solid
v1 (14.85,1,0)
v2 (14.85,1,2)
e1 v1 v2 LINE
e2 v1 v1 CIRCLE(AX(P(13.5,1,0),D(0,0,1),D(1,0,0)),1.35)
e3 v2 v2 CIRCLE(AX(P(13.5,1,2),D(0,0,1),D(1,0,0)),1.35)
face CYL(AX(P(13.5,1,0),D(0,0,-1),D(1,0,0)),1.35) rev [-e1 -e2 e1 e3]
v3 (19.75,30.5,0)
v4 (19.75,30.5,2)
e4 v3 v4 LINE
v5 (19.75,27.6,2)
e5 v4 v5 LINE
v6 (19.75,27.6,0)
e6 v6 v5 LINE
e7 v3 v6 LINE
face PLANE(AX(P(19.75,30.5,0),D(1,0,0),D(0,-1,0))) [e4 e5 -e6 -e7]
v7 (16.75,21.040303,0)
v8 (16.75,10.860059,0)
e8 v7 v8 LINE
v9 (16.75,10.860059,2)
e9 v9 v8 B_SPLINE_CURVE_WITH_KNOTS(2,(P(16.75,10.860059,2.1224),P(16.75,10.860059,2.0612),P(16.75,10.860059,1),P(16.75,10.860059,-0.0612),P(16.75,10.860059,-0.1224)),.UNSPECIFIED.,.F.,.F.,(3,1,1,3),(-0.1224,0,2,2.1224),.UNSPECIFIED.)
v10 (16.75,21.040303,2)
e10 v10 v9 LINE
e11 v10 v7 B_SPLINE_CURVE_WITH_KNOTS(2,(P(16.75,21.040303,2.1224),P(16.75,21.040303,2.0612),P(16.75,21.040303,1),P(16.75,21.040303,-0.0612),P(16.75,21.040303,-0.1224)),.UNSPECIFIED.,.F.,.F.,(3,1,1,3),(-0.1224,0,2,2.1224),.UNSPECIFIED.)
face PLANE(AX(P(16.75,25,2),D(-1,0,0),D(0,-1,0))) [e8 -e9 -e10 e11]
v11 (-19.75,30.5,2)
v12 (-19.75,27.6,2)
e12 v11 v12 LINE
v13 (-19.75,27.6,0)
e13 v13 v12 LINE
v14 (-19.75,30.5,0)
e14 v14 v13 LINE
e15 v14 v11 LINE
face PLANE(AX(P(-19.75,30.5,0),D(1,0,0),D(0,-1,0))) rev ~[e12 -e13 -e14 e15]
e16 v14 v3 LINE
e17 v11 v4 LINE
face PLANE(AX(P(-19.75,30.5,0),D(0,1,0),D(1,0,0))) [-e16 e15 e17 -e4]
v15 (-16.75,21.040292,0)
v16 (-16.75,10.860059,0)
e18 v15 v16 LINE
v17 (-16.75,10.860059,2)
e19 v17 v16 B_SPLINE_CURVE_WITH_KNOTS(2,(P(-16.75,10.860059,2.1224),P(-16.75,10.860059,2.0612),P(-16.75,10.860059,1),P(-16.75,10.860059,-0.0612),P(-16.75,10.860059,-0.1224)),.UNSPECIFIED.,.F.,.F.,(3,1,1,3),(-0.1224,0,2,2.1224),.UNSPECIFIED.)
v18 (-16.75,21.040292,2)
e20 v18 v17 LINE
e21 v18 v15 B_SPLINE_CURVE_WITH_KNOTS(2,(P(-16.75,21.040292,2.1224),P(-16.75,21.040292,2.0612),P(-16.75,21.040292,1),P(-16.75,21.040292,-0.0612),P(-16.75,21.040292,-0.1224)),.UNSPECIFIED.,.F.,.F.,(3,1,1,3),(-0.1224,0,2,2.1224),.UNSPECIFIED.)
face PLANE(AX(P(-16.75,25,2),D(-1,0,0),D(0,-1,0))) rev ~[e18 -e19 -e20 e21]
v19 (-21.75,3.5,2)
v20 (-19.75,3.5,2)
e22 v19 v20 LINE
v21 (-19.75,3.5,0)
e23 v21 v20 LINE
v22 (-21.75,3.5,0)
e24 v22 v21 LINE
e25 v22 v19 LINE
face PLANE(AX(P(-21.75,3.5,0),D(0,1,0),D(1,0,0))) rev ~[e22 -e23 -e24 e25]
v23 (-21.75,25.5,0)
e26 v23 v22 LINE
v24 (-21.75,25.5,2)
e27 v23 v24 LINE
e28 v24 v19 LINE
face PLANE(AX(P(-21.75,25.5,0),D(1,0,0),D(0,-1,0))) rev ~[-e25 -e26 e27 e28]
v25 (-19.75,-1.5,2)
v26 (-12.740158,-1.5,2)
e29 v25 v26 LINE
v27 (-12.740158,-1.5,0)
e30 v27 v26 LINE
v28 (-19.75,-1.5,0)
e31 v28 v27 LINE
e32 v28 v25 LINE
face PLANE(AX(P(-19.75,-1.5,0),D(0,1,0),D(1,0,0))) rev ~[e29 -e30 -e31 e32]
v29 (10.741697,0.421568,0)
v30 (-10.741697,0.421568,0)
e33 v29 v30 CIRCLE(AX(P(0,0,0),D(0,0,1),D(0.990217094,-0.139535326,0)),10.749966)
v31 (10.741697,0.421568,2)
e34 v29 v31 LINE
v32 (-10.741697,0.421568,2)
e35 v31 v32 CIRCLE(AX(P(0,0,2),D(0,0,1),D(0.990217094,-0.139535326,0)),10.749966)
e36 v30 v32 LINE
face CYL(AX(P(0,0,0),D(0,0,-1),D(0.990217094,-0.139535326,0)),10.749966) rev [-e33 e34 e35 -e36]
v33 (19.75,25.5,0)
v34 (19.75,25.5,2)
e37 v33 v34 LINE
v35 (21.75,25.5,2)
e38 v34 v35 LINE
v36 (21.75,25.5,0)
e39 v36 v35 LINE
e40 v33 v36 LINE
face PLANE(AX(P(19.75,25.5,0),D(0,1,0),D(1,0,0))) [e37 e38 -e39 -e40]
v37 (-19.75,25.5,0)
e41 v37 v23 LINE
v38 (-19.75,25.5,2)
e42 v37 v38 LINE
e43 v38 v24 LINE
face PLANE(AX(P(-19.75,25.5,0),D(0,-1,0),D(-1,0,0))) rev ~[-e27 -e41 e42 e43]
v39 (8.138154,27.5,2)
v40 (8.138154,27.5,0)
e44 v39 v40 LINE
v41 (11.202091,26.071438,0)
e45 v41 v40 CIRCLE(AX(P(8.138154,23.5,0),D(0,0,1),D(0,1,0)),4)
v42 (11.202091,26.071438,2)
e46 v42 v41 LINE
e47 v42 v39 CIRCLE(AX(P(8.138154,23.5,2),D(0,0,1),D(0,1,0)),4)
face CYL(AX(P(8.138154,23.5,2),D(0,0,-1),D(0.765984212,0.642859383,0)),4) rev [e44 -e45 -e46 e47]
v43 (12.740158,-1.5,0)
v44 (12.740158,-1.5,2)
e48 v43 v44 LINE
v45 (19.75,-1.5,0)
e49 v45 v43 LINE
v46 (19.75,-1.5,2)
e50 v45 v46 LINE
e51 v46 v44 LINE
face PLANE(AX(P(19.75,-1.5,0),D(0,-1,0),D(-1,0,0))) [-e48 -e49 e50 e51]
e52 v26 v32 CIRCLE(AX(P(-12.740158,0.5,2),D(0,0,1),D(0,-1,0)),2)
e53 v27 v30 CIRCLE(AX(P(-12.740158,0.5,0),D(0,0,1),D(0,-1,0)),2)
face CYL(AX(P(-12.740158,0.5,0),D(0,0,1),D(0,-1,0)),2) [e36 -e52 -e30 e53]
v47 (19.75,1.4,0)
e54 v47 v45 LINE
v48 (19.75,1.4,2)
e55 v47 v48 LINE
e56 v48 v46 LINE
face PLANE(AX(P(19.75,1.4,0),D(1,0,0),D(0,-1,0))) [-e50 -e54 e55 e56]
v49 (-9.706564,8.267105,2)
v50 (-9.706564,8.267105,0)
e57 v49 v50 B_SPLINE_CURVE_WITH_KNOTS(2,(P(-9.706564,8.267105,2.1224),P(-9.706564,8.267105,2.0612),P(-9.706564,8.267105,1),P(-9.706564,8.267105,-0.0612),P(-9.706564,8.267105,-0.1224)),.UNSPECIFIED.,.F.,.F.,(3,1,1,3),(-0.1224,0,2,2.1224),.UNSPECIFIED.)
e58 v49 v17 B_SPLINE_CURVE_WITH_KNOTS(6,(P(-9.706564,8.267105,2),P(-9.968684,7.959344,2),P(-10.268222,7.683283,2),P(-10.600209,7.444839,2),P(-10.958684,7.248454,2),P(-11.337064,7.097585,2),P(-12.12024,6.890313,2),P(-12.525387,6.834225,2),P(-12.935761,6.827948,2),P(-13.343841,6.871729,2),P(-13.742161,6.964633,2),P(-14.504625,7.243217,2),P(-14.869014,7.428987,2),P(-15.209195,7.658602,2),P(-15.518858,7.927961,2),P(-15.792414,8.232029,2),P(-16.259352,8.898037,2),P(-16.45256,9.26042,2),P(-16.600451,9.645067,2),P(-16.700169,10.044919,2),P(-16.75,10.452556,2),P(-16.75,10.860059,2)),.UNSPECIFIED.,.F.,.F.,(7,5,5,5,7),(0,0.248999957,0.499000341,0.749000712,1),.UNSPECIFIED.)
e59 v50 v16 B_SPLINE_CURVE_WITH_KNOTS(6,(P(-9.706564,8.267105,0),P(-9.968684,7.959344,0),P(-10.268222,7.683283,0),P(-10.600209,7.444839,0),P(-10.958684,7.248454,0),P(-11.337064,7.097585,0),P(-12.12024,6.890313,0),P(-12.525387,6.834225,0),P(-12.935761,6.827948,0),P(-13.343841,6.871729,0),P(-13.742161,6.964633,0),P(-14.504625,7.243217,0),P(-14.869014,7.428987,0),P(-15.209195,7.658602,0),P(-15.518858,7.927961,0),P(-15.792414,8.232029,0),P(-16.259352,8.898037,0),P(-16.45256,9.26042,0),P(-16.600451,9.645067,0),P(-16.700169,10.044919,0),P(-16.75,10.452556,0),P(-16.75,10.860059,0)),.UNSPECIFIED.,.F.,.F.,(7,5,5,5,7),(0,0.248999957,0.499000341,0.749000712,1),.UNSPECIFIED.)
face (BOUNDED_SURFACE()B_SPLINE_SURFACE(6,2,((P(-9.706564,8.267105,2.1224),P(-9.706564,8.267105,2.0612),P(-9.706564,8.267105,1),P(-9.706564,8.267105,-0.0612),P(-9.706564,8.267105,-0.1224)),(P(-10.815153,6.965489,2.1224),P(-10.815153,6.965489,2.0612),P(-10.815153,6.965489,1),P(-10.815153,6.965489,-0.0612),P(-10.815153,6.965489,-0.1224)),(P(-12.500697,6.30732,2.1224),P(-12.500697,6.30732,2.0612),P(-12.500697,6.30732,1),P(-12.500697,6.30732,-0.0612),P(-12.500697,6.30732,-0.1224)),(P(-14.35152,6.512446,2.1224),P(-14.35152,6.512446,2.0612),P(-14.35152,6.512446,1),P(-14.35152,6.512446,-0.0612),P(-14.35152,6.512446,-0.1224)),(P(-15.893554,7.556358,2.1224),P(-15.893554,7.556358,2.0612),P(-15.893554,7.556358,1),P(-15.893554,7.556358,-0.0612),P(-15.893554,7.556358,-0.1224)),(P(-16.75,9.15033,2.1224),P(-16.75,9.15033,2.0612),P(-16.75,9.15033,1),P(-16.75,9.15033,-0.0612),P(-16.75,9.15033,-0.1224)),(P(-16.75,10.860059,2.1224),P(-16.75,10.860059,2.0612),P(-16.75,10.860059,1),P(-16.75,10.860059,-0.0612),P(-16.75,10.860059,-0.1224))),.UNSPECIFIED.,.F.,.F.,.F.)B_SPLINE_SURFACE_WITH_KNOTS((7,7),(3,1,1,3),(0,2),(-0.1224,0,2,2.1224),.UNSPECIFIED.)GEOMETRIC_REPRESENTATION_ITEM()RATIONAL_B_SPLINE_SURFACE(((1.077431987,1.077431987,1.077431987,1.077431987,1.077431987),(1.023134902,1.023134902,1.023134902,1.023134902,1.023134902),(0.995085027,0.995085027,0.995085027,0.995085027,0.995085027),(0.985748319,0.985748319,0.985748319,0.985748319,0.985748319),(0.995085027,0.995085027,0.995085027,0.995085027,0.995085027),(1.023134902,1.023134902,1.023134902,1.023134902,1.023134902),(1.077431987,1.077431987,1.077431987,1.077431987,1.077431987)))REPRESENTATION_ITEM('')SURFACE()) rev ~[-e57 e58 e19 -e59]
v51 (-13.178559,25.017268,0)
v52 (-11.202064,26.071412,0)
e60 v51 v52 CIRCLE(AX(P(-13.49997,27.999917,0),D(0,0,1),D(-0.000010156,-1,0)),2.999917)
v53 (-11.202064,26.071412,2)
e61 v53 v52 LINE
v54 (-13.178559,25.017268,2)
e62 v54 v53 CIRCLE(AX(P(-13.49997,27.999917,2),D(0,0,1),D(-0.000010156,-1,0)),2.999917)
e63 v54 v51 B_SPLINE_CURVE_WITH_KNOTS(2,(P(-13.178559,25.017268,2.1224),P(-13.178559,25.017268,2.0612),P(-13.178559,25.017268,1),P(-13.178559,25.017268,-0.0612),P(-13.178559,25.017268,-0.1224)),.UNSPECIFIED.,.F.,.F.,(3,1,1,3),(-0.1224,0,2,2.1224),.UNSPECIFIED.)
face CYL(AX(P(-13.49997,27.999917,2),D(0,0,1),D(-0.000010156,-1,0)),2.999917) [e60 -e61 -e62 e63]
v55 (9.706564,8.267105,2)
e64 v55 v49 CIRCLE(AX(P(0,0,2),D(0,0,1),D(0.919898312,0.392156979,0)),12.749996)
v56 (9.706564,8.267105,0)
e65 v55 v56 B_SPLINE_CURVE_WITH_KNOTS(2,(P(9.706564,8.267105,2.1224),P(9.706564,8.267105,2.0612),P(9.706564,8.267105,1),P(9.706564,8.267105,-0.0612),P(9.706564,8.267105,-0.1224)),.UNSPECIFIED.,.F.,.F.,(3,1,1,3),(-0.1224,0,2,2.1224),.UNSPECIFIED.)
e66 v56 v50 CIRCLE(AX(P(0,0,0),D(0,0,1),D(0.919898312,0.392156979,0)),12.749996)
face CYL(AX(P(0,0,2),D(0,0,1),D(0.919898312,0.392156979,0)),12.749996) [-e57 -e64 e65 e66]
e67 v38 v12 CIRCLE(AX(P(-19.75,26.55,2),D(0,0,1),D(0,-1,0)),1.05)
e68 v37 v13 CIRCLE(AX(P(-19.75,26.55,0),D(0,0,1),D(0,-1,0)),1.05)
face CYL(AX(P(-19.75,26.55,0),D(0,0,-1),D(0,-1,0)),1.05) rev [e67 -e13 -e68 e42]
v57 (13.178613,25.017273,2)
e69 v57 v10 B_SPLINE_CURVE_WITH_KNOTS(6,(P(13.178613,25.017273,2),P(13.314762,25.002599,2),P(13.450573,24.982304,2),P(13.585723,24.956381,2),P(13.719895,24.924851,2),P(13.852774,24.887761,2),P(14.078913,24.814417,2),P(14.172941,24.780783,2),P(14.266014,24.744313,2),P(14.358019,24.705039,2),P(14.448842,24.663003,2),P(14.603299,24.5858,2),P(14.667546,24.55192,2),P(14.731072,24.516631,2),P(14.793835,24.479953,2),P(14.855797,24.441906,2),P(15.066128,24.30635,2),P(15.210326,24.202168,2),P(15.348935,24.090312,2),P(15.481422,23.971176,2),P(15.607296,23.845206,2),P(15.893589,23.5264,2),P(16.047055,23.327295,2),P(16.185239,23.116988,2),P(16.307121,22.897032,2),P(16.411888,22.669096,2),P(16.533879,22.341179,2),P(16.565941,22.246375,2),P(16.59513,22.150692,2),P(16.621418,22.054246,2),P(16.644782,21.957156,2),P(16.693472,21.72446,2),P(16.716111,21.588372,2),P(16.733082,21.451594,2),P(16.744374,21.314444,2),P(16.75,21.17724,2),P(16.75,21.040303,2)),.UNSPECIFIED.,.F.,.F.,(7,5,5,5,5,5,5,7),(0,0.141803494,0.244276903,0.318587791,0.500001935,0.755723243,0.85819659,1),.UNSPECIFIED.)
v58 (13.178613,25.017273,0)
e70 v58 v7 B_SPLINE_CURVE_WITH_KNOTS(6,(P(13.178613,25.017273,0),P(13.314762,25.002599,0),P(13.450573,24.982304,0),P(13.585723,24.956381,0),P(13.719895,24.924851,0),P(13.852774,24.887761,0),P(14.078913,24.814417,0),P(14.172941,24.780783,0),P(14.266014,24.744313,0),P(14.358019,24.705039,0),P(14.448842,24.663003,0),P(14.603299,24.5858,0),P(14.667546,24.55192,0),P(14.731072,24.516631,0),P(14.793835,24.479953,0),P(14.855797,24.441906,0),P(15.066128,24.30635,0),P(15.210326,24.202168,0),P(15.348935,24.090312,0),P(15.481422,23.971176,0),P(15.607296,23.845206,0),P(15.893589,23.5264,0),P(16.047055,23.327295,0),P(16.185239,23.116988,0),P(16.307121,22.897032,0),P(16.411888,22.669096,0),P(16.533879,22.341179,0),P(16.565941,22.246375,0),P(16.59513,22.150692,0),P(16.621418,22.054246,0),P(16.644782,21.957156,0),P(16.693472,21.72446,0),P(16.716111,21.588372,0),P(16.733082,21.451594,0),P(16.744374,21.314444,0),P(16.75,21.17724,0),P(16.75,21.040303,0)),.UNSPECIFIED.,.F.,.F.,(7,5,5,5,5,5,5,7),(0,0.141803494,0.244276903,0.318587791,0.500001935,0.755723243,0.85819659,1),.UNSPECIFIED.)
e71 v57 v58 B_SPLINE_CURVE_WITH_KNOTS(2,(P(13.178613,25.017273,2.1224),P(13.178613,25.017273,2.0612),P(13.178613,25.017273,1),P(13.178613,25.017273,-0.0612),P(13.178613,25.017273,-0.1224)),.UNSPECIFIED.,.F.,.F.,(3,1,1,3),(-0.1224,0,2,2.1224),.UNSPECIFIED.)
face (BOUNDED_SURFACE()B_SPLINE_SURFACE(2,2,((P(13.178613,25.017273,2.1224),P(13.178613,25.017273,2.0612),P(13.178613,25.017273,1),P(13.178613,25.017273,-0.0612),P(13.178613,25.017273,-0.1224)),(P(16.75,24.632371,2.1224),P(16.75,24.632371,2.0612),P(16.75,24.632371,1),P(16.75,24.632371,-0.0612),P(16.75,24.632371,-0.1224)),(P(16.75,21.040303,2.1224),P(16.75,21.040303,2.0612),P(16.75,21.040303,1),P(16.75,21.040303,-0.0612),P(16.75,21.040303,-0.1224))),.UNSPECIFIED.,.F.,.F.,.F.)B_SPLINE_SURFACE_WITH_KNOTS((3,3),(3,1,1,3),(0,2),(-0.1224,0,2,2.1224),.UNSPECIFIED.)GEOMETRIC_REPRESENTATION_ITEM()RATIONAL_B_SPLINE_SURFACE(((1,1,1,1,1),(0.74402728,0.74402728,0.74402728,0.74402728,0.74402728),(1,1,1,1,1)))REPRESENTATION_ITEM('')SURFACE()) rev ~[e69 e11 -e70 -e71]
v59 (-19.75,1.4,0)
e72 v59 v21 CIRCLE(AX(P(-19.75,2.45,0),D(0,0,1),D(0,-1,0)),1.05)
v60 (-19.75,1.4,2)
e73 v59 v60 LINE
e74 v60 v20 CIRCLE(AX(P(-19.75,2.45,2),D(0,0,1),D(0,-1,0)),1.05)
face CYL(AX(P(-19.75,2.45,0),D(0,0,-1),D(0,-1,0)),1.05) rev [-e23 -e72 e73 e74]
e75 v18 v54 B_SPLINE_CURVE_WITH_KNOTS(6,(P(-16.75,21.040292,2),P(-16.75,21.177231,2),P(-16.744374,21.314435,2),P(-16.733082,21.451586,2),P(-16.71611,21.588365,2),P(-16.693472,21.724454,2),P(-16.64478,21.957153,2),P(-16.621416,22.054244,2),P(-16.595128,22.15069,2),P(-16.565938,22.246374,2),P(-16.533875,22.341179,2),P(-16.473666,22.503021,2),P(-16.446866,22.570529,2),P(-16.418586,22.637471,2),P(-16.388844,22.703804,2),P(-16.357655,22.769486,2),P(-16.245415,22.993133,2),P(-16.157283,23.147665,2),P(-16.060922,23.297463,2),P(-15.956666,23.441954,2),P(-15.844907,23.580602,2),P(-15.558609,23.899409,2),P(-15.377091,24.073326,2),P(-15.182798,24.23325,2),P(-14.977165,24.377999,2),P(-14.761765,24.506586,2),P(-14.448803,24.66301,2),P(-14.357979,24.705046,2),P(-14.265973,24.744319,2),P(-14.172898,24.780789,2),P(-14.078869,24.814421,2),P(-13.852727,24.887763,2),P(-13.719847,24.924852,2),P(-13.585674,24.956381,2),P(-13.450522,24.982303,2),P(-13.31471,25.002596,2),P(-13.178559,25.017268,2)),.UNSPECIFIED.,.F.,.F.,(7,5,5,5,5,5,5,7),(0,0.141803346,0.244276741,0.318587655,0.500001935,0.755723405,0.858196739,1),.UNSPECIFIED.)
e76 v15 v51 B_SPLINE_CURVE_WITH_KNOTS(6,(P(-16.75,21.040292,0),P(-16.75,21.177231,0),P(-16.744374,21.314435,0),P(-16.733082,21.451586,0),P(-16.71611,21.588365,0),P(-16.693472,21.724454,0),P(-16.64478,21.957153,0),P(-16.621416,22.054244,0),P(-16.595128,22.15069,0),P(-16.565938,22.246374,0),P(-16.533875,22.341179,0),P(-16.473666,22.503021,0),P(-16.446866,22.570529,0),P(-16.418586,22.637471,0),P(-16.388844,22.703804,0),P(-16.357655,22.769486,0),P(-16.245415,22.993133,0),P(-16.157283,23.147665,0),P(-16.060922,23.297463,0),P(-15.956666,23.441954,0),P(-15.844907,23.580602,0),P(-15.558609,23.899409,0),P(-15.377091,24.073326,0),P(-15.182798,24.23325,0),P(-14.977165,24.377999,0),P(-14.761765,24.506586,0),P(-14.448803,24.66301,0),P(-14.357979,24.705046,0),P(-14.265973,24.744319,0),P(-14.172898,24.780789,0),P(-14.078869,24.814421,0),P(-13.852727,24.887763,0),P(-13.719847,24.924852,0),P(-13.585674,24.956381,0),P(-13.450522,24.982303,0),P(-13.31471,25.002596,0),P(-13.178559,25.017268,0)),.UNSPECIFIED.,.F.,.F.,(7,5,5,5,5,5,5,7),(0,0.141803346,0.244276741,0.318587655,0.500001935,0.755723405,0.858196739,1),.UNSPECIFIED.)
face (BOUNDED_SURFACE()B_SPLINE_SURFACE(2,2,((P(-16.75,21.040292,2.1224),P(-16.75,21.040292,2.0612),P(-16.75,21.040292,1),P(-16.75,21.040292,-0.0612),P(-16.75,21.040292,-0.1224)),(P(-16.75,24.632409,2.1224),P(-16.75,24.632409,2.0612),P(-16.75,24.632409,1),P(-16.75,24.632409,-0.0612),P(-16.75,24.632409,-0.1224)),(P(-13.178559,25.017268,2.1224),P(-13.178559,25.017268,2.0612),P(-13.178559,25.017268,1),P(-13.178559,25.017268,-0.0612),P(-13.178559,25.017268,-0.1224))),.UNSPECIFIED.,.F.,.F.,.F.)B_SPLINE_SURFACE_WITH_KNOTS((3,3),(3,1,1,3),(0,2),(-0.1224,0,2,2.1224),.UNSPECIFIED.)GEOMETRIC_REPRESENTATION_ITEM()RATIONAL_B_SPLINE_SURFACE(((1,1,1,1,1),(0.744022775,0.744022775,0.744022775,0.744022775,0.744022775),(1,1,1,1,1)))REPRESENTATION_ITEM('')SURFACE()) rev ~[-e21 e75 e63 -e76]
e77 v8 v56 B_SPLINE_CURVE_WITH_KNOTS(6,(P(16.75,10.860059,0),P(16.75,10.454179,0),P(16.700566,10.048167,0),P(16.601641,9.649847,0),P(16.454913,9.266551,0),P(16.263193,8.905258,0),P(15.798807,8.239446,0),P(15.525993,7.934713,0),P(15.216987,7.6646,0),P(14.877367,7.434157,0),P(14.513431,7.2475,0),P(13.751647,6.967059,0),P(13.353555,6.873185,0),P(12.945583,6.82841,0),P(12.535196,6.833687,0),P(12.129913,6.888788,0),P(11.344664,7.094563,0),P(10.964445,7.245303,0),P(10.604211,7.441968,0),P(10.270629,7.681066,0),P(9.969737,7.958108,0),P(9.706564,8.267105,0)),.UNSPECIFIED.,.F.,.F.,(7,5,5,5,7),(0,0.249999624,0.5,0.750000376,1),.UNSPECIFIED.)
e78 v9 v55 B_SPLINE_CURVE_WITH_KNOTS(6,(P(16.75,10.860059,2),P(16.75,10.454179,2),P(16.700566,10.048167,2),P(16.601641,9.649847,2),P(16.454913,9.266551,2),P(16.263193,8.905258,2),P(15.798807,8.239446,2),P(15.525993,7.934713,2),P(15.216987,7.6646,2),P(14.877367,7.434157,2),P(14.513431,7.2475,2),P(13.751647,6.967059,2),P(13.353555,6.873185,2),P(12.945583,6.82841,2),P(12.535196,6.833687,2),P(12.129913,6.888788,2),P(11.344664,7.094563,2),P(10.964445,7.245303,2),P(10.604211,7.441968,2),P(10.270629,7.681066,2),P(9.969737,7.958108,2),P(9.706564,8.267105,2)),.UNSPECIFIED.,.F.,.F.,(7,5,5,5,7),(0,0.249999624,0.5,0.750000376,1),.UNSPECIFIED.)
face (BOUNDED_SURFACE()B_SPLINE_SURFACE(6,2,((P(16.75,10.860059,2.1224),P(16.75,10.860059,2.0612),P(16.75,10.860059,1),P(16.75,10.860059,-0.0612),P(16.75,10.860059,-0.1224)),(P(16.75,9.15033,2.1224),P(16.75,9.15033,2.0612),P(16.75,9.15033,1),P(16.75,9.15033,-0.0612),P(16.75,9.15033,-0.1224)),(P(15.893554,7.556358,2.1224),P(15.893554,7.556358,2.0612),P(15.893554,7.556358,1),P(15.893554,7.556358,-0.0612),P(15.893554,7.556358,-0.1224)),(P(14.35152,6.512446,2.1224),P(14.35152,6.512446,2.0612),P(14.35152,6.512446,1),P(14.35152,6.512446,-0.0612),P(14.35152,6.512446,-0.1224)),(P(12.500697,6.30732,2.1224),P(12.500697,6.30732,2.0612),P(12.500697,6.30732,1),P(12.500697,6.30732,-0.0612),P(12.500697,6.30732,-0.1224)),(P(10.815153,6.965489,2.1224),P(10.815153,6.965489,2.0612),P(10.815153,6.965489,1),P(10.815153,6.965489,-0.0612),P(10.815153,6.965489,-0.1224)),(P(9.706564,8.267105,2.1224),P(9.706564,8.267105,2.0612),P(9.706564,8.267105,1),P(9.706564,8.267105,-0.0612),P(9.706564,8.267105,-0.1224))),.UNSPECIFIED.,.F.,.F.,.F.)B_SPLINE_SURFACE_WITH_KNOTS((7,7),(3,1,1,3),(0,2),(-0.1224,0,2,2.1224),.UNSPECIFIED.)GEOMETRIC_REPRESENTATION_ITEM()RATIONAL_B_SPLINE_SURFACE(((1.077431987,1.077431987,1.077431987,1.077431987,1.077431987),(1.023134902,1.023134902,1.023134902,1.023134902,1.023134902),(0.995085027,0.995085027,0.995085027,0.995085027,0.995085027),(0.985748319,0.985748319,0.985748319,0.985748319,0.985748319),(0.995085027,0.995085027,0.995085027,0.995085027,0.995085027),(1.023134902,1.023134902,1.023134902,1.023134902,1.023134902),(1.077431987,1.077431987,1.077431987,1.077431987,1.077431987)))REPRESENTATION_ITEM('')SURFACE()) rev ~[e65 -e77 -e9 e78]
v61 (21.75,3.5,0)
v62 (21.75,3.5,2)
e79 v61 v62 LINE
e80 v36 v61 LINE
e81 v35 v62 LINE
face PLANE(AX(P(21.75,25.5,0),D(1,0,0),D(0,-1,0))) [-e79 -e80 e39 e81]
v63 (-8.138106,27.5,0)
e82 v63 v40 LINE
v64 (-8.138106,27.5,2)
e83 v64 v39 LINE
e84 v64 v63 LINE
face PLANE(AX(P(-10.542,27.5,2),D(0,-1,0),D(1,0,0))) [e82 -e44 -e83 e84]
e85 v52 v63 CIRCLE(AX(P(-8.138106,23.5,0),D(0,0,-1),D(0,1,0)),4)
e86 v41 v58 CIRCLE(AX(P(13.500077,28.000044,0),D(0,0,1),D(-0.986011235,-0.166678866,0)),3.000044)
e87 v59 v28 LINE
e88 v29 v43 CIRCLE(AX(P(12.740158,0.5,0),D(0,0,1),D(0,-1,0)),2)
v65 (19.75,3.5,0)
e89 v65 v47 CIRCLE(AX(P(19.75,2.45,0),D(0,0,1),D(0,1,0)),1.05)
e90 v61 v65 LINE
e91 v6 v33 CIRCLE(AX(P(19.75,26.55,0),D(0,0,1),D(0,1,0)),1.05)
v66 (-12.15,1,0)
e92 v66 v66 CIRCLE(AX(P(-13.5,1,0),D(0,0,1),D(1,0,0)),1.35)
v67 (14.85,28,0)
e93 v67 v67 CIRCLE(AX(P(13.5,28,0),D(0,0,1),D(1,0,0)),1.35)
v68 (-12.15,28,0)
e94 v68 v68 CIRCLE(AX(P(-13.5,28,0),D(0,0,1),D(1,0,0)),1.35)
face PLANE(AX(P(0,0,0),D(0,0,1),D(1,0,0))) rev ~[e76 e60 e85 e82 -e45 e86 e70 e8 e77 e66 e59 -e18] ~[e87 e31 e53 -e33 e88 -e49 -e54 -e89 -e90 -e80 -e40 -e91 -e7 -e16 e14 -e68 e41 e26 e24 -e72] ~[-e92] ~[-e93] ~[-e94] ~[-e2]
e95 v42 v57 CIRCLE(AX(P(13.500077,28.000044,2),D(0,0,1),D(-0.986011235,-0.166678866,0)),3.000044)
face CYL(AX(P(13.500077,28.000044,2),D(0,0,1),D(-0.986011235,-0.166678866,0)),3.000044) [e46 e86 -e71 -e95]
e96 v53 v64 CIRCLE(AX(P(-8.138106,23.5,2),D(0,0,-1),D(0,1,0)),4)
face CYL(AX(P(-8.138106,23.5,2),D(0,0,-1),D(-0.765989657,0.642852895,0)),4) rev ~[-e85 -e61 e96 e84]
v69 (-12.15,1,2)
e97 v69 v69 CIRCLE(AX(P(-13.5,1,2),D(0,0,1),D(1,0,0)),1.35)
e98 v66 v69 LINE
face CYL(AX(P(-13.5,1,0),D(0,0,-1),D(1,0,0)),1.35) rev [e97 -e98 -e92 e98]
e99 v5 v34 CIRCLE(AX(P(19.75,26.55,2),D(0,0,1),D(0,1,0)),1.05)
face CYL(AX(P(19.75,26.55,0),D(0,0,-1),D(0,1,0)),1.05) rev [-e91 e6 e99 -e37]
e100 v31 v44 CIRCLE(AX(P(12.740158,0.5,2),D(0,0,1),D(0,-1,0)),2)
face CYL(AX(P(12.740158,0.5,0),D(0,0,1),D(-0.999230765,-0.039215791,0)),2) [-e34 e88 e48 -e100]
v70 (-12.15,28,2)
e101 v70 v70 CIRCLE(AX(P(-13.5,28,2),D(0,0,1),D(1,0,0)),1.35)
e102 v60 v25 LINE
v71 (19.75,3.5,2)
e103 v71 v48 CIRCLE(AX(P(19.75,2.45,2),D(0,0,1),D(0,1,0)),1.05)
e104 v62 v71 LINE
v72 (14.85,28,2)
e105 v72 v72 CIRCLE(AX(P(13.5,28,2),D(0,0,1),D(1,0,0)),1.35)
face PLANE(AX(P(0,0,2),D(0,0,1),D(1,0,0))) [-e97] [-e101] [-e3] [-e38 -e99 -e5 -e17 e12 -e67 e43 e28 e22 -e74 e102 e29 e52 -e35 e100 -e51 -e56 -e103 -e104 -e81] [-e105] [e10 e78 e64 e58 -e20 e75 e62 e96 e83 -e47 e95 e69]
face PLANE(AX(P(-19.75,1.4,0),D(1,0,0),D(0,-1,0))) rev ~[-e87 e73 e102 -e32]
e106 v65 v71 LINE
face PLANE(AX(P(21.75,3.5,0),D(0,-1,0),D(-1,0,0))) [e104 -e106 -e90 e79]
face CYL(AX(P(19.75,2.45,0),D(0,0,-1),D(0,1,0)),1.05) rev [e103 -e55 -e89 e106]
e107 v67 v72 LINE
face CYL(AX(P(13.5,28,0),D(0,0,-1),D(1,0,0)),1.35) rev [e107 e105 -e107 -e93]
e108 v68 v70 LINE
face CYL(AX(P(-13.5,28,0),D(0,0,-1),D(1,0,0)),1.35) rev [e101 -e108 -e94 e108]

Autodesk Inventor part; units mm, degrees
ref_plane "YZ Plane" through (0, 0, 0) normal (1, 0, 0) x (0, 1, 0)
ref_plane "XZ Plane" through (0, 0, 0) normal (0, 1, 0) x (-1, 0, 0)
ref_plane "XY Plane" through (0, 0, 0) normal (0, 0, 1) x (1, 0, 0)
sketch "スケッチ1" plane through (0, 0, 0) normal (0, 0, 1) x (1, 0, 0)
  circle A0 centre (0, 0) radius 10.5 construction
  circle A1 centre (-13.5, 1) radius 1.35
  line L0 (-13.5, 28) -> (13.5, 28) construction
  line L1 (13.5, 28) -> (13.5, 1) construction
  line L2 (13.5, 1) -> (-13.5, 1) construction
  line L3 (-13.5, 1) -> (-13.5, 28) construction
  circle A2 centre (-13.5, 28) radius 1.35
  circle A3 centre (13.5, 1) radius 1.35
  circle A4 centre (13.5, 28) radius 1.35
  line L4 (-19.75, 30.5) -> (-19.75, 27.6)
  line L5 (-19.75, 30.5) -> (19.75, 30.5)
  line L6 (19.75, 30.5) -> (19.75, 27.6)
  line L7 (-19.75, 1.4) -> (-19.75, -1.5)
  line L8 (-19.75, -1.5) -> (-10.6448, -1.5)
  line L9 (19.75, 1.4) -> (19.75, -1.5)
  line L10 (19.75, -1.5) -> (10.6448, -1.5)
  line L11 (-19.75, 25.5) -> (-21.75, 25.5)
  line L12 (-21.75, 25.5) -> (-21.75, 3.5)
  line L13 (-21.75, 3.5) -> (-19.75, 3.5)
  arc A5 (-19.75, 25.5) -> (-19.75, 27.6) centre (-19.75, 26.55) ccw
  arc A6 (-19.75, 1.4) -> (-19.75, 3.5) centre (-19.75, 2.45) ccw
  line L14 (19.75, 25.5) -> (21.75, 25.5)
  line L15 (21.75, 25.5) -> (21.75, 3.5)
  line L16 (21.75, 3.5) -> (19.75, 3.5)
  arc A7 (19.75, 27.6) -> (19.75, 25.5) centre (19.75, 26.55) ccw
  line L17 (0, 28) -> (0, 0) construction
  arc A8 (19.75, 3.5) -> (19.75, 1.4) centre (19.75, 2.45) ccw
  line L18 (-13.5, 14.5) -> (-21.75, 14.5) construction
  arc A9 (10.6448, -1.5) -> (-10.6448, -1.5) centre (0, 0) ccw
  point P0 (0, 30.5)
  dimension "d8" = 21
  dimension "d10" = 27
  dimension "d12" = 1
  dimension "d13" = 2.7
  dimension "d38" = 27
  dimension "d44" = 27
  dimension "d47" = 1.05
  dimension "d48" = 39.5
  dimension "d49" = 2
  dimension "d50" = 5
  dimension "d51" = 32
  dimension "d52" = 5
  dimension "d53" = 10.75
extrude "押し出し1" add sketch "スケッチ1" along normal blind 2
sketch "スケッチ2" plane through (0, 0, 2) normal (0, 0, 1) x (1, 0, 0)
  circle A0 centre (13.5, 28) radius 1.35 projected
  circle A1 centre (-13.5, 28) radius 1.35 projected
  circle A2 centre (-13.5, 1) radius 1.35 projected
  line L0 (-19.75, 30.5) -> (-19.75, 27.6) projected
  arc A3 (10.6448, -1.5) -> (-10.6448, -1.5) centre (0, 0) ccw projected
  line L1 (19.75, 30.5) -> (-19.75, 30.5) projected
  line L2 (-10.542, 27.5) -> (10.542, 27.5)
  line L3 (-16.75, 25) -> (-16.75, 5)
  line L4 (16.75, 25) -> (16.75, 5)
  line L5 (-16.75, 5) -> (-11.7287, 5)
  line L6 (16.75, 5) -> (11.7287, 5)
  arc A4 (11.7287, 5) -> (-11.7287, 5) centre (0, 0) ccw
  line L7 (-16.75, 25) -> (-13.5, 25)
  arc A5 (-13.5, 25) -> (-10.542, 27.5) centre (-13.5, 28) ccw
  line L8 (16.75, 25) -> (13.5, 25)
  arc A6 (10.542, 27.5) -> (13.5, 25) centre (13.5, 28) ccw
  line L9 (0, 30.5) -> (0, 0) construction
  dimension "d56" = 2
  dimension "d57" = 4
  dimension "d58" = 3
  dimension "d59" = 3
  dimension "d60" = 3
extrude "押し出し2" cut sketch "スケッチ2" against normal blind 10 contours L2 A6 L8 L4 L6 A4 L5 L3 L7 A5
fillet "フィレット1" radius 4 8 edges at (10.542, 27.5, 1) (16.75, 25, 1) (16.75, 5, 1) (11.7287, 5, 1) (-11.7287, 5, 1) (-16.75, 5, 1) (-16.75, 25, 1) (-10.542, 27.5, 1)
fillet "フィレット1" radius 2 2 edges at (-10.6448, -1.5, 1) (10.6448, -1.5, 1)
equation "\"d38\" = d10"
equation "\"d44\" = d10"
equation "\"d50\" = d30"
equation "\"d51\" = d18 + 2 * d30"
equation "\"d52\" = d50"
equation "\"d30\" = 5"
equation "\"d18\" = 22"
properties part number "足首_サブフレーム_1_1" material "アルミニウム 2014-T4"
